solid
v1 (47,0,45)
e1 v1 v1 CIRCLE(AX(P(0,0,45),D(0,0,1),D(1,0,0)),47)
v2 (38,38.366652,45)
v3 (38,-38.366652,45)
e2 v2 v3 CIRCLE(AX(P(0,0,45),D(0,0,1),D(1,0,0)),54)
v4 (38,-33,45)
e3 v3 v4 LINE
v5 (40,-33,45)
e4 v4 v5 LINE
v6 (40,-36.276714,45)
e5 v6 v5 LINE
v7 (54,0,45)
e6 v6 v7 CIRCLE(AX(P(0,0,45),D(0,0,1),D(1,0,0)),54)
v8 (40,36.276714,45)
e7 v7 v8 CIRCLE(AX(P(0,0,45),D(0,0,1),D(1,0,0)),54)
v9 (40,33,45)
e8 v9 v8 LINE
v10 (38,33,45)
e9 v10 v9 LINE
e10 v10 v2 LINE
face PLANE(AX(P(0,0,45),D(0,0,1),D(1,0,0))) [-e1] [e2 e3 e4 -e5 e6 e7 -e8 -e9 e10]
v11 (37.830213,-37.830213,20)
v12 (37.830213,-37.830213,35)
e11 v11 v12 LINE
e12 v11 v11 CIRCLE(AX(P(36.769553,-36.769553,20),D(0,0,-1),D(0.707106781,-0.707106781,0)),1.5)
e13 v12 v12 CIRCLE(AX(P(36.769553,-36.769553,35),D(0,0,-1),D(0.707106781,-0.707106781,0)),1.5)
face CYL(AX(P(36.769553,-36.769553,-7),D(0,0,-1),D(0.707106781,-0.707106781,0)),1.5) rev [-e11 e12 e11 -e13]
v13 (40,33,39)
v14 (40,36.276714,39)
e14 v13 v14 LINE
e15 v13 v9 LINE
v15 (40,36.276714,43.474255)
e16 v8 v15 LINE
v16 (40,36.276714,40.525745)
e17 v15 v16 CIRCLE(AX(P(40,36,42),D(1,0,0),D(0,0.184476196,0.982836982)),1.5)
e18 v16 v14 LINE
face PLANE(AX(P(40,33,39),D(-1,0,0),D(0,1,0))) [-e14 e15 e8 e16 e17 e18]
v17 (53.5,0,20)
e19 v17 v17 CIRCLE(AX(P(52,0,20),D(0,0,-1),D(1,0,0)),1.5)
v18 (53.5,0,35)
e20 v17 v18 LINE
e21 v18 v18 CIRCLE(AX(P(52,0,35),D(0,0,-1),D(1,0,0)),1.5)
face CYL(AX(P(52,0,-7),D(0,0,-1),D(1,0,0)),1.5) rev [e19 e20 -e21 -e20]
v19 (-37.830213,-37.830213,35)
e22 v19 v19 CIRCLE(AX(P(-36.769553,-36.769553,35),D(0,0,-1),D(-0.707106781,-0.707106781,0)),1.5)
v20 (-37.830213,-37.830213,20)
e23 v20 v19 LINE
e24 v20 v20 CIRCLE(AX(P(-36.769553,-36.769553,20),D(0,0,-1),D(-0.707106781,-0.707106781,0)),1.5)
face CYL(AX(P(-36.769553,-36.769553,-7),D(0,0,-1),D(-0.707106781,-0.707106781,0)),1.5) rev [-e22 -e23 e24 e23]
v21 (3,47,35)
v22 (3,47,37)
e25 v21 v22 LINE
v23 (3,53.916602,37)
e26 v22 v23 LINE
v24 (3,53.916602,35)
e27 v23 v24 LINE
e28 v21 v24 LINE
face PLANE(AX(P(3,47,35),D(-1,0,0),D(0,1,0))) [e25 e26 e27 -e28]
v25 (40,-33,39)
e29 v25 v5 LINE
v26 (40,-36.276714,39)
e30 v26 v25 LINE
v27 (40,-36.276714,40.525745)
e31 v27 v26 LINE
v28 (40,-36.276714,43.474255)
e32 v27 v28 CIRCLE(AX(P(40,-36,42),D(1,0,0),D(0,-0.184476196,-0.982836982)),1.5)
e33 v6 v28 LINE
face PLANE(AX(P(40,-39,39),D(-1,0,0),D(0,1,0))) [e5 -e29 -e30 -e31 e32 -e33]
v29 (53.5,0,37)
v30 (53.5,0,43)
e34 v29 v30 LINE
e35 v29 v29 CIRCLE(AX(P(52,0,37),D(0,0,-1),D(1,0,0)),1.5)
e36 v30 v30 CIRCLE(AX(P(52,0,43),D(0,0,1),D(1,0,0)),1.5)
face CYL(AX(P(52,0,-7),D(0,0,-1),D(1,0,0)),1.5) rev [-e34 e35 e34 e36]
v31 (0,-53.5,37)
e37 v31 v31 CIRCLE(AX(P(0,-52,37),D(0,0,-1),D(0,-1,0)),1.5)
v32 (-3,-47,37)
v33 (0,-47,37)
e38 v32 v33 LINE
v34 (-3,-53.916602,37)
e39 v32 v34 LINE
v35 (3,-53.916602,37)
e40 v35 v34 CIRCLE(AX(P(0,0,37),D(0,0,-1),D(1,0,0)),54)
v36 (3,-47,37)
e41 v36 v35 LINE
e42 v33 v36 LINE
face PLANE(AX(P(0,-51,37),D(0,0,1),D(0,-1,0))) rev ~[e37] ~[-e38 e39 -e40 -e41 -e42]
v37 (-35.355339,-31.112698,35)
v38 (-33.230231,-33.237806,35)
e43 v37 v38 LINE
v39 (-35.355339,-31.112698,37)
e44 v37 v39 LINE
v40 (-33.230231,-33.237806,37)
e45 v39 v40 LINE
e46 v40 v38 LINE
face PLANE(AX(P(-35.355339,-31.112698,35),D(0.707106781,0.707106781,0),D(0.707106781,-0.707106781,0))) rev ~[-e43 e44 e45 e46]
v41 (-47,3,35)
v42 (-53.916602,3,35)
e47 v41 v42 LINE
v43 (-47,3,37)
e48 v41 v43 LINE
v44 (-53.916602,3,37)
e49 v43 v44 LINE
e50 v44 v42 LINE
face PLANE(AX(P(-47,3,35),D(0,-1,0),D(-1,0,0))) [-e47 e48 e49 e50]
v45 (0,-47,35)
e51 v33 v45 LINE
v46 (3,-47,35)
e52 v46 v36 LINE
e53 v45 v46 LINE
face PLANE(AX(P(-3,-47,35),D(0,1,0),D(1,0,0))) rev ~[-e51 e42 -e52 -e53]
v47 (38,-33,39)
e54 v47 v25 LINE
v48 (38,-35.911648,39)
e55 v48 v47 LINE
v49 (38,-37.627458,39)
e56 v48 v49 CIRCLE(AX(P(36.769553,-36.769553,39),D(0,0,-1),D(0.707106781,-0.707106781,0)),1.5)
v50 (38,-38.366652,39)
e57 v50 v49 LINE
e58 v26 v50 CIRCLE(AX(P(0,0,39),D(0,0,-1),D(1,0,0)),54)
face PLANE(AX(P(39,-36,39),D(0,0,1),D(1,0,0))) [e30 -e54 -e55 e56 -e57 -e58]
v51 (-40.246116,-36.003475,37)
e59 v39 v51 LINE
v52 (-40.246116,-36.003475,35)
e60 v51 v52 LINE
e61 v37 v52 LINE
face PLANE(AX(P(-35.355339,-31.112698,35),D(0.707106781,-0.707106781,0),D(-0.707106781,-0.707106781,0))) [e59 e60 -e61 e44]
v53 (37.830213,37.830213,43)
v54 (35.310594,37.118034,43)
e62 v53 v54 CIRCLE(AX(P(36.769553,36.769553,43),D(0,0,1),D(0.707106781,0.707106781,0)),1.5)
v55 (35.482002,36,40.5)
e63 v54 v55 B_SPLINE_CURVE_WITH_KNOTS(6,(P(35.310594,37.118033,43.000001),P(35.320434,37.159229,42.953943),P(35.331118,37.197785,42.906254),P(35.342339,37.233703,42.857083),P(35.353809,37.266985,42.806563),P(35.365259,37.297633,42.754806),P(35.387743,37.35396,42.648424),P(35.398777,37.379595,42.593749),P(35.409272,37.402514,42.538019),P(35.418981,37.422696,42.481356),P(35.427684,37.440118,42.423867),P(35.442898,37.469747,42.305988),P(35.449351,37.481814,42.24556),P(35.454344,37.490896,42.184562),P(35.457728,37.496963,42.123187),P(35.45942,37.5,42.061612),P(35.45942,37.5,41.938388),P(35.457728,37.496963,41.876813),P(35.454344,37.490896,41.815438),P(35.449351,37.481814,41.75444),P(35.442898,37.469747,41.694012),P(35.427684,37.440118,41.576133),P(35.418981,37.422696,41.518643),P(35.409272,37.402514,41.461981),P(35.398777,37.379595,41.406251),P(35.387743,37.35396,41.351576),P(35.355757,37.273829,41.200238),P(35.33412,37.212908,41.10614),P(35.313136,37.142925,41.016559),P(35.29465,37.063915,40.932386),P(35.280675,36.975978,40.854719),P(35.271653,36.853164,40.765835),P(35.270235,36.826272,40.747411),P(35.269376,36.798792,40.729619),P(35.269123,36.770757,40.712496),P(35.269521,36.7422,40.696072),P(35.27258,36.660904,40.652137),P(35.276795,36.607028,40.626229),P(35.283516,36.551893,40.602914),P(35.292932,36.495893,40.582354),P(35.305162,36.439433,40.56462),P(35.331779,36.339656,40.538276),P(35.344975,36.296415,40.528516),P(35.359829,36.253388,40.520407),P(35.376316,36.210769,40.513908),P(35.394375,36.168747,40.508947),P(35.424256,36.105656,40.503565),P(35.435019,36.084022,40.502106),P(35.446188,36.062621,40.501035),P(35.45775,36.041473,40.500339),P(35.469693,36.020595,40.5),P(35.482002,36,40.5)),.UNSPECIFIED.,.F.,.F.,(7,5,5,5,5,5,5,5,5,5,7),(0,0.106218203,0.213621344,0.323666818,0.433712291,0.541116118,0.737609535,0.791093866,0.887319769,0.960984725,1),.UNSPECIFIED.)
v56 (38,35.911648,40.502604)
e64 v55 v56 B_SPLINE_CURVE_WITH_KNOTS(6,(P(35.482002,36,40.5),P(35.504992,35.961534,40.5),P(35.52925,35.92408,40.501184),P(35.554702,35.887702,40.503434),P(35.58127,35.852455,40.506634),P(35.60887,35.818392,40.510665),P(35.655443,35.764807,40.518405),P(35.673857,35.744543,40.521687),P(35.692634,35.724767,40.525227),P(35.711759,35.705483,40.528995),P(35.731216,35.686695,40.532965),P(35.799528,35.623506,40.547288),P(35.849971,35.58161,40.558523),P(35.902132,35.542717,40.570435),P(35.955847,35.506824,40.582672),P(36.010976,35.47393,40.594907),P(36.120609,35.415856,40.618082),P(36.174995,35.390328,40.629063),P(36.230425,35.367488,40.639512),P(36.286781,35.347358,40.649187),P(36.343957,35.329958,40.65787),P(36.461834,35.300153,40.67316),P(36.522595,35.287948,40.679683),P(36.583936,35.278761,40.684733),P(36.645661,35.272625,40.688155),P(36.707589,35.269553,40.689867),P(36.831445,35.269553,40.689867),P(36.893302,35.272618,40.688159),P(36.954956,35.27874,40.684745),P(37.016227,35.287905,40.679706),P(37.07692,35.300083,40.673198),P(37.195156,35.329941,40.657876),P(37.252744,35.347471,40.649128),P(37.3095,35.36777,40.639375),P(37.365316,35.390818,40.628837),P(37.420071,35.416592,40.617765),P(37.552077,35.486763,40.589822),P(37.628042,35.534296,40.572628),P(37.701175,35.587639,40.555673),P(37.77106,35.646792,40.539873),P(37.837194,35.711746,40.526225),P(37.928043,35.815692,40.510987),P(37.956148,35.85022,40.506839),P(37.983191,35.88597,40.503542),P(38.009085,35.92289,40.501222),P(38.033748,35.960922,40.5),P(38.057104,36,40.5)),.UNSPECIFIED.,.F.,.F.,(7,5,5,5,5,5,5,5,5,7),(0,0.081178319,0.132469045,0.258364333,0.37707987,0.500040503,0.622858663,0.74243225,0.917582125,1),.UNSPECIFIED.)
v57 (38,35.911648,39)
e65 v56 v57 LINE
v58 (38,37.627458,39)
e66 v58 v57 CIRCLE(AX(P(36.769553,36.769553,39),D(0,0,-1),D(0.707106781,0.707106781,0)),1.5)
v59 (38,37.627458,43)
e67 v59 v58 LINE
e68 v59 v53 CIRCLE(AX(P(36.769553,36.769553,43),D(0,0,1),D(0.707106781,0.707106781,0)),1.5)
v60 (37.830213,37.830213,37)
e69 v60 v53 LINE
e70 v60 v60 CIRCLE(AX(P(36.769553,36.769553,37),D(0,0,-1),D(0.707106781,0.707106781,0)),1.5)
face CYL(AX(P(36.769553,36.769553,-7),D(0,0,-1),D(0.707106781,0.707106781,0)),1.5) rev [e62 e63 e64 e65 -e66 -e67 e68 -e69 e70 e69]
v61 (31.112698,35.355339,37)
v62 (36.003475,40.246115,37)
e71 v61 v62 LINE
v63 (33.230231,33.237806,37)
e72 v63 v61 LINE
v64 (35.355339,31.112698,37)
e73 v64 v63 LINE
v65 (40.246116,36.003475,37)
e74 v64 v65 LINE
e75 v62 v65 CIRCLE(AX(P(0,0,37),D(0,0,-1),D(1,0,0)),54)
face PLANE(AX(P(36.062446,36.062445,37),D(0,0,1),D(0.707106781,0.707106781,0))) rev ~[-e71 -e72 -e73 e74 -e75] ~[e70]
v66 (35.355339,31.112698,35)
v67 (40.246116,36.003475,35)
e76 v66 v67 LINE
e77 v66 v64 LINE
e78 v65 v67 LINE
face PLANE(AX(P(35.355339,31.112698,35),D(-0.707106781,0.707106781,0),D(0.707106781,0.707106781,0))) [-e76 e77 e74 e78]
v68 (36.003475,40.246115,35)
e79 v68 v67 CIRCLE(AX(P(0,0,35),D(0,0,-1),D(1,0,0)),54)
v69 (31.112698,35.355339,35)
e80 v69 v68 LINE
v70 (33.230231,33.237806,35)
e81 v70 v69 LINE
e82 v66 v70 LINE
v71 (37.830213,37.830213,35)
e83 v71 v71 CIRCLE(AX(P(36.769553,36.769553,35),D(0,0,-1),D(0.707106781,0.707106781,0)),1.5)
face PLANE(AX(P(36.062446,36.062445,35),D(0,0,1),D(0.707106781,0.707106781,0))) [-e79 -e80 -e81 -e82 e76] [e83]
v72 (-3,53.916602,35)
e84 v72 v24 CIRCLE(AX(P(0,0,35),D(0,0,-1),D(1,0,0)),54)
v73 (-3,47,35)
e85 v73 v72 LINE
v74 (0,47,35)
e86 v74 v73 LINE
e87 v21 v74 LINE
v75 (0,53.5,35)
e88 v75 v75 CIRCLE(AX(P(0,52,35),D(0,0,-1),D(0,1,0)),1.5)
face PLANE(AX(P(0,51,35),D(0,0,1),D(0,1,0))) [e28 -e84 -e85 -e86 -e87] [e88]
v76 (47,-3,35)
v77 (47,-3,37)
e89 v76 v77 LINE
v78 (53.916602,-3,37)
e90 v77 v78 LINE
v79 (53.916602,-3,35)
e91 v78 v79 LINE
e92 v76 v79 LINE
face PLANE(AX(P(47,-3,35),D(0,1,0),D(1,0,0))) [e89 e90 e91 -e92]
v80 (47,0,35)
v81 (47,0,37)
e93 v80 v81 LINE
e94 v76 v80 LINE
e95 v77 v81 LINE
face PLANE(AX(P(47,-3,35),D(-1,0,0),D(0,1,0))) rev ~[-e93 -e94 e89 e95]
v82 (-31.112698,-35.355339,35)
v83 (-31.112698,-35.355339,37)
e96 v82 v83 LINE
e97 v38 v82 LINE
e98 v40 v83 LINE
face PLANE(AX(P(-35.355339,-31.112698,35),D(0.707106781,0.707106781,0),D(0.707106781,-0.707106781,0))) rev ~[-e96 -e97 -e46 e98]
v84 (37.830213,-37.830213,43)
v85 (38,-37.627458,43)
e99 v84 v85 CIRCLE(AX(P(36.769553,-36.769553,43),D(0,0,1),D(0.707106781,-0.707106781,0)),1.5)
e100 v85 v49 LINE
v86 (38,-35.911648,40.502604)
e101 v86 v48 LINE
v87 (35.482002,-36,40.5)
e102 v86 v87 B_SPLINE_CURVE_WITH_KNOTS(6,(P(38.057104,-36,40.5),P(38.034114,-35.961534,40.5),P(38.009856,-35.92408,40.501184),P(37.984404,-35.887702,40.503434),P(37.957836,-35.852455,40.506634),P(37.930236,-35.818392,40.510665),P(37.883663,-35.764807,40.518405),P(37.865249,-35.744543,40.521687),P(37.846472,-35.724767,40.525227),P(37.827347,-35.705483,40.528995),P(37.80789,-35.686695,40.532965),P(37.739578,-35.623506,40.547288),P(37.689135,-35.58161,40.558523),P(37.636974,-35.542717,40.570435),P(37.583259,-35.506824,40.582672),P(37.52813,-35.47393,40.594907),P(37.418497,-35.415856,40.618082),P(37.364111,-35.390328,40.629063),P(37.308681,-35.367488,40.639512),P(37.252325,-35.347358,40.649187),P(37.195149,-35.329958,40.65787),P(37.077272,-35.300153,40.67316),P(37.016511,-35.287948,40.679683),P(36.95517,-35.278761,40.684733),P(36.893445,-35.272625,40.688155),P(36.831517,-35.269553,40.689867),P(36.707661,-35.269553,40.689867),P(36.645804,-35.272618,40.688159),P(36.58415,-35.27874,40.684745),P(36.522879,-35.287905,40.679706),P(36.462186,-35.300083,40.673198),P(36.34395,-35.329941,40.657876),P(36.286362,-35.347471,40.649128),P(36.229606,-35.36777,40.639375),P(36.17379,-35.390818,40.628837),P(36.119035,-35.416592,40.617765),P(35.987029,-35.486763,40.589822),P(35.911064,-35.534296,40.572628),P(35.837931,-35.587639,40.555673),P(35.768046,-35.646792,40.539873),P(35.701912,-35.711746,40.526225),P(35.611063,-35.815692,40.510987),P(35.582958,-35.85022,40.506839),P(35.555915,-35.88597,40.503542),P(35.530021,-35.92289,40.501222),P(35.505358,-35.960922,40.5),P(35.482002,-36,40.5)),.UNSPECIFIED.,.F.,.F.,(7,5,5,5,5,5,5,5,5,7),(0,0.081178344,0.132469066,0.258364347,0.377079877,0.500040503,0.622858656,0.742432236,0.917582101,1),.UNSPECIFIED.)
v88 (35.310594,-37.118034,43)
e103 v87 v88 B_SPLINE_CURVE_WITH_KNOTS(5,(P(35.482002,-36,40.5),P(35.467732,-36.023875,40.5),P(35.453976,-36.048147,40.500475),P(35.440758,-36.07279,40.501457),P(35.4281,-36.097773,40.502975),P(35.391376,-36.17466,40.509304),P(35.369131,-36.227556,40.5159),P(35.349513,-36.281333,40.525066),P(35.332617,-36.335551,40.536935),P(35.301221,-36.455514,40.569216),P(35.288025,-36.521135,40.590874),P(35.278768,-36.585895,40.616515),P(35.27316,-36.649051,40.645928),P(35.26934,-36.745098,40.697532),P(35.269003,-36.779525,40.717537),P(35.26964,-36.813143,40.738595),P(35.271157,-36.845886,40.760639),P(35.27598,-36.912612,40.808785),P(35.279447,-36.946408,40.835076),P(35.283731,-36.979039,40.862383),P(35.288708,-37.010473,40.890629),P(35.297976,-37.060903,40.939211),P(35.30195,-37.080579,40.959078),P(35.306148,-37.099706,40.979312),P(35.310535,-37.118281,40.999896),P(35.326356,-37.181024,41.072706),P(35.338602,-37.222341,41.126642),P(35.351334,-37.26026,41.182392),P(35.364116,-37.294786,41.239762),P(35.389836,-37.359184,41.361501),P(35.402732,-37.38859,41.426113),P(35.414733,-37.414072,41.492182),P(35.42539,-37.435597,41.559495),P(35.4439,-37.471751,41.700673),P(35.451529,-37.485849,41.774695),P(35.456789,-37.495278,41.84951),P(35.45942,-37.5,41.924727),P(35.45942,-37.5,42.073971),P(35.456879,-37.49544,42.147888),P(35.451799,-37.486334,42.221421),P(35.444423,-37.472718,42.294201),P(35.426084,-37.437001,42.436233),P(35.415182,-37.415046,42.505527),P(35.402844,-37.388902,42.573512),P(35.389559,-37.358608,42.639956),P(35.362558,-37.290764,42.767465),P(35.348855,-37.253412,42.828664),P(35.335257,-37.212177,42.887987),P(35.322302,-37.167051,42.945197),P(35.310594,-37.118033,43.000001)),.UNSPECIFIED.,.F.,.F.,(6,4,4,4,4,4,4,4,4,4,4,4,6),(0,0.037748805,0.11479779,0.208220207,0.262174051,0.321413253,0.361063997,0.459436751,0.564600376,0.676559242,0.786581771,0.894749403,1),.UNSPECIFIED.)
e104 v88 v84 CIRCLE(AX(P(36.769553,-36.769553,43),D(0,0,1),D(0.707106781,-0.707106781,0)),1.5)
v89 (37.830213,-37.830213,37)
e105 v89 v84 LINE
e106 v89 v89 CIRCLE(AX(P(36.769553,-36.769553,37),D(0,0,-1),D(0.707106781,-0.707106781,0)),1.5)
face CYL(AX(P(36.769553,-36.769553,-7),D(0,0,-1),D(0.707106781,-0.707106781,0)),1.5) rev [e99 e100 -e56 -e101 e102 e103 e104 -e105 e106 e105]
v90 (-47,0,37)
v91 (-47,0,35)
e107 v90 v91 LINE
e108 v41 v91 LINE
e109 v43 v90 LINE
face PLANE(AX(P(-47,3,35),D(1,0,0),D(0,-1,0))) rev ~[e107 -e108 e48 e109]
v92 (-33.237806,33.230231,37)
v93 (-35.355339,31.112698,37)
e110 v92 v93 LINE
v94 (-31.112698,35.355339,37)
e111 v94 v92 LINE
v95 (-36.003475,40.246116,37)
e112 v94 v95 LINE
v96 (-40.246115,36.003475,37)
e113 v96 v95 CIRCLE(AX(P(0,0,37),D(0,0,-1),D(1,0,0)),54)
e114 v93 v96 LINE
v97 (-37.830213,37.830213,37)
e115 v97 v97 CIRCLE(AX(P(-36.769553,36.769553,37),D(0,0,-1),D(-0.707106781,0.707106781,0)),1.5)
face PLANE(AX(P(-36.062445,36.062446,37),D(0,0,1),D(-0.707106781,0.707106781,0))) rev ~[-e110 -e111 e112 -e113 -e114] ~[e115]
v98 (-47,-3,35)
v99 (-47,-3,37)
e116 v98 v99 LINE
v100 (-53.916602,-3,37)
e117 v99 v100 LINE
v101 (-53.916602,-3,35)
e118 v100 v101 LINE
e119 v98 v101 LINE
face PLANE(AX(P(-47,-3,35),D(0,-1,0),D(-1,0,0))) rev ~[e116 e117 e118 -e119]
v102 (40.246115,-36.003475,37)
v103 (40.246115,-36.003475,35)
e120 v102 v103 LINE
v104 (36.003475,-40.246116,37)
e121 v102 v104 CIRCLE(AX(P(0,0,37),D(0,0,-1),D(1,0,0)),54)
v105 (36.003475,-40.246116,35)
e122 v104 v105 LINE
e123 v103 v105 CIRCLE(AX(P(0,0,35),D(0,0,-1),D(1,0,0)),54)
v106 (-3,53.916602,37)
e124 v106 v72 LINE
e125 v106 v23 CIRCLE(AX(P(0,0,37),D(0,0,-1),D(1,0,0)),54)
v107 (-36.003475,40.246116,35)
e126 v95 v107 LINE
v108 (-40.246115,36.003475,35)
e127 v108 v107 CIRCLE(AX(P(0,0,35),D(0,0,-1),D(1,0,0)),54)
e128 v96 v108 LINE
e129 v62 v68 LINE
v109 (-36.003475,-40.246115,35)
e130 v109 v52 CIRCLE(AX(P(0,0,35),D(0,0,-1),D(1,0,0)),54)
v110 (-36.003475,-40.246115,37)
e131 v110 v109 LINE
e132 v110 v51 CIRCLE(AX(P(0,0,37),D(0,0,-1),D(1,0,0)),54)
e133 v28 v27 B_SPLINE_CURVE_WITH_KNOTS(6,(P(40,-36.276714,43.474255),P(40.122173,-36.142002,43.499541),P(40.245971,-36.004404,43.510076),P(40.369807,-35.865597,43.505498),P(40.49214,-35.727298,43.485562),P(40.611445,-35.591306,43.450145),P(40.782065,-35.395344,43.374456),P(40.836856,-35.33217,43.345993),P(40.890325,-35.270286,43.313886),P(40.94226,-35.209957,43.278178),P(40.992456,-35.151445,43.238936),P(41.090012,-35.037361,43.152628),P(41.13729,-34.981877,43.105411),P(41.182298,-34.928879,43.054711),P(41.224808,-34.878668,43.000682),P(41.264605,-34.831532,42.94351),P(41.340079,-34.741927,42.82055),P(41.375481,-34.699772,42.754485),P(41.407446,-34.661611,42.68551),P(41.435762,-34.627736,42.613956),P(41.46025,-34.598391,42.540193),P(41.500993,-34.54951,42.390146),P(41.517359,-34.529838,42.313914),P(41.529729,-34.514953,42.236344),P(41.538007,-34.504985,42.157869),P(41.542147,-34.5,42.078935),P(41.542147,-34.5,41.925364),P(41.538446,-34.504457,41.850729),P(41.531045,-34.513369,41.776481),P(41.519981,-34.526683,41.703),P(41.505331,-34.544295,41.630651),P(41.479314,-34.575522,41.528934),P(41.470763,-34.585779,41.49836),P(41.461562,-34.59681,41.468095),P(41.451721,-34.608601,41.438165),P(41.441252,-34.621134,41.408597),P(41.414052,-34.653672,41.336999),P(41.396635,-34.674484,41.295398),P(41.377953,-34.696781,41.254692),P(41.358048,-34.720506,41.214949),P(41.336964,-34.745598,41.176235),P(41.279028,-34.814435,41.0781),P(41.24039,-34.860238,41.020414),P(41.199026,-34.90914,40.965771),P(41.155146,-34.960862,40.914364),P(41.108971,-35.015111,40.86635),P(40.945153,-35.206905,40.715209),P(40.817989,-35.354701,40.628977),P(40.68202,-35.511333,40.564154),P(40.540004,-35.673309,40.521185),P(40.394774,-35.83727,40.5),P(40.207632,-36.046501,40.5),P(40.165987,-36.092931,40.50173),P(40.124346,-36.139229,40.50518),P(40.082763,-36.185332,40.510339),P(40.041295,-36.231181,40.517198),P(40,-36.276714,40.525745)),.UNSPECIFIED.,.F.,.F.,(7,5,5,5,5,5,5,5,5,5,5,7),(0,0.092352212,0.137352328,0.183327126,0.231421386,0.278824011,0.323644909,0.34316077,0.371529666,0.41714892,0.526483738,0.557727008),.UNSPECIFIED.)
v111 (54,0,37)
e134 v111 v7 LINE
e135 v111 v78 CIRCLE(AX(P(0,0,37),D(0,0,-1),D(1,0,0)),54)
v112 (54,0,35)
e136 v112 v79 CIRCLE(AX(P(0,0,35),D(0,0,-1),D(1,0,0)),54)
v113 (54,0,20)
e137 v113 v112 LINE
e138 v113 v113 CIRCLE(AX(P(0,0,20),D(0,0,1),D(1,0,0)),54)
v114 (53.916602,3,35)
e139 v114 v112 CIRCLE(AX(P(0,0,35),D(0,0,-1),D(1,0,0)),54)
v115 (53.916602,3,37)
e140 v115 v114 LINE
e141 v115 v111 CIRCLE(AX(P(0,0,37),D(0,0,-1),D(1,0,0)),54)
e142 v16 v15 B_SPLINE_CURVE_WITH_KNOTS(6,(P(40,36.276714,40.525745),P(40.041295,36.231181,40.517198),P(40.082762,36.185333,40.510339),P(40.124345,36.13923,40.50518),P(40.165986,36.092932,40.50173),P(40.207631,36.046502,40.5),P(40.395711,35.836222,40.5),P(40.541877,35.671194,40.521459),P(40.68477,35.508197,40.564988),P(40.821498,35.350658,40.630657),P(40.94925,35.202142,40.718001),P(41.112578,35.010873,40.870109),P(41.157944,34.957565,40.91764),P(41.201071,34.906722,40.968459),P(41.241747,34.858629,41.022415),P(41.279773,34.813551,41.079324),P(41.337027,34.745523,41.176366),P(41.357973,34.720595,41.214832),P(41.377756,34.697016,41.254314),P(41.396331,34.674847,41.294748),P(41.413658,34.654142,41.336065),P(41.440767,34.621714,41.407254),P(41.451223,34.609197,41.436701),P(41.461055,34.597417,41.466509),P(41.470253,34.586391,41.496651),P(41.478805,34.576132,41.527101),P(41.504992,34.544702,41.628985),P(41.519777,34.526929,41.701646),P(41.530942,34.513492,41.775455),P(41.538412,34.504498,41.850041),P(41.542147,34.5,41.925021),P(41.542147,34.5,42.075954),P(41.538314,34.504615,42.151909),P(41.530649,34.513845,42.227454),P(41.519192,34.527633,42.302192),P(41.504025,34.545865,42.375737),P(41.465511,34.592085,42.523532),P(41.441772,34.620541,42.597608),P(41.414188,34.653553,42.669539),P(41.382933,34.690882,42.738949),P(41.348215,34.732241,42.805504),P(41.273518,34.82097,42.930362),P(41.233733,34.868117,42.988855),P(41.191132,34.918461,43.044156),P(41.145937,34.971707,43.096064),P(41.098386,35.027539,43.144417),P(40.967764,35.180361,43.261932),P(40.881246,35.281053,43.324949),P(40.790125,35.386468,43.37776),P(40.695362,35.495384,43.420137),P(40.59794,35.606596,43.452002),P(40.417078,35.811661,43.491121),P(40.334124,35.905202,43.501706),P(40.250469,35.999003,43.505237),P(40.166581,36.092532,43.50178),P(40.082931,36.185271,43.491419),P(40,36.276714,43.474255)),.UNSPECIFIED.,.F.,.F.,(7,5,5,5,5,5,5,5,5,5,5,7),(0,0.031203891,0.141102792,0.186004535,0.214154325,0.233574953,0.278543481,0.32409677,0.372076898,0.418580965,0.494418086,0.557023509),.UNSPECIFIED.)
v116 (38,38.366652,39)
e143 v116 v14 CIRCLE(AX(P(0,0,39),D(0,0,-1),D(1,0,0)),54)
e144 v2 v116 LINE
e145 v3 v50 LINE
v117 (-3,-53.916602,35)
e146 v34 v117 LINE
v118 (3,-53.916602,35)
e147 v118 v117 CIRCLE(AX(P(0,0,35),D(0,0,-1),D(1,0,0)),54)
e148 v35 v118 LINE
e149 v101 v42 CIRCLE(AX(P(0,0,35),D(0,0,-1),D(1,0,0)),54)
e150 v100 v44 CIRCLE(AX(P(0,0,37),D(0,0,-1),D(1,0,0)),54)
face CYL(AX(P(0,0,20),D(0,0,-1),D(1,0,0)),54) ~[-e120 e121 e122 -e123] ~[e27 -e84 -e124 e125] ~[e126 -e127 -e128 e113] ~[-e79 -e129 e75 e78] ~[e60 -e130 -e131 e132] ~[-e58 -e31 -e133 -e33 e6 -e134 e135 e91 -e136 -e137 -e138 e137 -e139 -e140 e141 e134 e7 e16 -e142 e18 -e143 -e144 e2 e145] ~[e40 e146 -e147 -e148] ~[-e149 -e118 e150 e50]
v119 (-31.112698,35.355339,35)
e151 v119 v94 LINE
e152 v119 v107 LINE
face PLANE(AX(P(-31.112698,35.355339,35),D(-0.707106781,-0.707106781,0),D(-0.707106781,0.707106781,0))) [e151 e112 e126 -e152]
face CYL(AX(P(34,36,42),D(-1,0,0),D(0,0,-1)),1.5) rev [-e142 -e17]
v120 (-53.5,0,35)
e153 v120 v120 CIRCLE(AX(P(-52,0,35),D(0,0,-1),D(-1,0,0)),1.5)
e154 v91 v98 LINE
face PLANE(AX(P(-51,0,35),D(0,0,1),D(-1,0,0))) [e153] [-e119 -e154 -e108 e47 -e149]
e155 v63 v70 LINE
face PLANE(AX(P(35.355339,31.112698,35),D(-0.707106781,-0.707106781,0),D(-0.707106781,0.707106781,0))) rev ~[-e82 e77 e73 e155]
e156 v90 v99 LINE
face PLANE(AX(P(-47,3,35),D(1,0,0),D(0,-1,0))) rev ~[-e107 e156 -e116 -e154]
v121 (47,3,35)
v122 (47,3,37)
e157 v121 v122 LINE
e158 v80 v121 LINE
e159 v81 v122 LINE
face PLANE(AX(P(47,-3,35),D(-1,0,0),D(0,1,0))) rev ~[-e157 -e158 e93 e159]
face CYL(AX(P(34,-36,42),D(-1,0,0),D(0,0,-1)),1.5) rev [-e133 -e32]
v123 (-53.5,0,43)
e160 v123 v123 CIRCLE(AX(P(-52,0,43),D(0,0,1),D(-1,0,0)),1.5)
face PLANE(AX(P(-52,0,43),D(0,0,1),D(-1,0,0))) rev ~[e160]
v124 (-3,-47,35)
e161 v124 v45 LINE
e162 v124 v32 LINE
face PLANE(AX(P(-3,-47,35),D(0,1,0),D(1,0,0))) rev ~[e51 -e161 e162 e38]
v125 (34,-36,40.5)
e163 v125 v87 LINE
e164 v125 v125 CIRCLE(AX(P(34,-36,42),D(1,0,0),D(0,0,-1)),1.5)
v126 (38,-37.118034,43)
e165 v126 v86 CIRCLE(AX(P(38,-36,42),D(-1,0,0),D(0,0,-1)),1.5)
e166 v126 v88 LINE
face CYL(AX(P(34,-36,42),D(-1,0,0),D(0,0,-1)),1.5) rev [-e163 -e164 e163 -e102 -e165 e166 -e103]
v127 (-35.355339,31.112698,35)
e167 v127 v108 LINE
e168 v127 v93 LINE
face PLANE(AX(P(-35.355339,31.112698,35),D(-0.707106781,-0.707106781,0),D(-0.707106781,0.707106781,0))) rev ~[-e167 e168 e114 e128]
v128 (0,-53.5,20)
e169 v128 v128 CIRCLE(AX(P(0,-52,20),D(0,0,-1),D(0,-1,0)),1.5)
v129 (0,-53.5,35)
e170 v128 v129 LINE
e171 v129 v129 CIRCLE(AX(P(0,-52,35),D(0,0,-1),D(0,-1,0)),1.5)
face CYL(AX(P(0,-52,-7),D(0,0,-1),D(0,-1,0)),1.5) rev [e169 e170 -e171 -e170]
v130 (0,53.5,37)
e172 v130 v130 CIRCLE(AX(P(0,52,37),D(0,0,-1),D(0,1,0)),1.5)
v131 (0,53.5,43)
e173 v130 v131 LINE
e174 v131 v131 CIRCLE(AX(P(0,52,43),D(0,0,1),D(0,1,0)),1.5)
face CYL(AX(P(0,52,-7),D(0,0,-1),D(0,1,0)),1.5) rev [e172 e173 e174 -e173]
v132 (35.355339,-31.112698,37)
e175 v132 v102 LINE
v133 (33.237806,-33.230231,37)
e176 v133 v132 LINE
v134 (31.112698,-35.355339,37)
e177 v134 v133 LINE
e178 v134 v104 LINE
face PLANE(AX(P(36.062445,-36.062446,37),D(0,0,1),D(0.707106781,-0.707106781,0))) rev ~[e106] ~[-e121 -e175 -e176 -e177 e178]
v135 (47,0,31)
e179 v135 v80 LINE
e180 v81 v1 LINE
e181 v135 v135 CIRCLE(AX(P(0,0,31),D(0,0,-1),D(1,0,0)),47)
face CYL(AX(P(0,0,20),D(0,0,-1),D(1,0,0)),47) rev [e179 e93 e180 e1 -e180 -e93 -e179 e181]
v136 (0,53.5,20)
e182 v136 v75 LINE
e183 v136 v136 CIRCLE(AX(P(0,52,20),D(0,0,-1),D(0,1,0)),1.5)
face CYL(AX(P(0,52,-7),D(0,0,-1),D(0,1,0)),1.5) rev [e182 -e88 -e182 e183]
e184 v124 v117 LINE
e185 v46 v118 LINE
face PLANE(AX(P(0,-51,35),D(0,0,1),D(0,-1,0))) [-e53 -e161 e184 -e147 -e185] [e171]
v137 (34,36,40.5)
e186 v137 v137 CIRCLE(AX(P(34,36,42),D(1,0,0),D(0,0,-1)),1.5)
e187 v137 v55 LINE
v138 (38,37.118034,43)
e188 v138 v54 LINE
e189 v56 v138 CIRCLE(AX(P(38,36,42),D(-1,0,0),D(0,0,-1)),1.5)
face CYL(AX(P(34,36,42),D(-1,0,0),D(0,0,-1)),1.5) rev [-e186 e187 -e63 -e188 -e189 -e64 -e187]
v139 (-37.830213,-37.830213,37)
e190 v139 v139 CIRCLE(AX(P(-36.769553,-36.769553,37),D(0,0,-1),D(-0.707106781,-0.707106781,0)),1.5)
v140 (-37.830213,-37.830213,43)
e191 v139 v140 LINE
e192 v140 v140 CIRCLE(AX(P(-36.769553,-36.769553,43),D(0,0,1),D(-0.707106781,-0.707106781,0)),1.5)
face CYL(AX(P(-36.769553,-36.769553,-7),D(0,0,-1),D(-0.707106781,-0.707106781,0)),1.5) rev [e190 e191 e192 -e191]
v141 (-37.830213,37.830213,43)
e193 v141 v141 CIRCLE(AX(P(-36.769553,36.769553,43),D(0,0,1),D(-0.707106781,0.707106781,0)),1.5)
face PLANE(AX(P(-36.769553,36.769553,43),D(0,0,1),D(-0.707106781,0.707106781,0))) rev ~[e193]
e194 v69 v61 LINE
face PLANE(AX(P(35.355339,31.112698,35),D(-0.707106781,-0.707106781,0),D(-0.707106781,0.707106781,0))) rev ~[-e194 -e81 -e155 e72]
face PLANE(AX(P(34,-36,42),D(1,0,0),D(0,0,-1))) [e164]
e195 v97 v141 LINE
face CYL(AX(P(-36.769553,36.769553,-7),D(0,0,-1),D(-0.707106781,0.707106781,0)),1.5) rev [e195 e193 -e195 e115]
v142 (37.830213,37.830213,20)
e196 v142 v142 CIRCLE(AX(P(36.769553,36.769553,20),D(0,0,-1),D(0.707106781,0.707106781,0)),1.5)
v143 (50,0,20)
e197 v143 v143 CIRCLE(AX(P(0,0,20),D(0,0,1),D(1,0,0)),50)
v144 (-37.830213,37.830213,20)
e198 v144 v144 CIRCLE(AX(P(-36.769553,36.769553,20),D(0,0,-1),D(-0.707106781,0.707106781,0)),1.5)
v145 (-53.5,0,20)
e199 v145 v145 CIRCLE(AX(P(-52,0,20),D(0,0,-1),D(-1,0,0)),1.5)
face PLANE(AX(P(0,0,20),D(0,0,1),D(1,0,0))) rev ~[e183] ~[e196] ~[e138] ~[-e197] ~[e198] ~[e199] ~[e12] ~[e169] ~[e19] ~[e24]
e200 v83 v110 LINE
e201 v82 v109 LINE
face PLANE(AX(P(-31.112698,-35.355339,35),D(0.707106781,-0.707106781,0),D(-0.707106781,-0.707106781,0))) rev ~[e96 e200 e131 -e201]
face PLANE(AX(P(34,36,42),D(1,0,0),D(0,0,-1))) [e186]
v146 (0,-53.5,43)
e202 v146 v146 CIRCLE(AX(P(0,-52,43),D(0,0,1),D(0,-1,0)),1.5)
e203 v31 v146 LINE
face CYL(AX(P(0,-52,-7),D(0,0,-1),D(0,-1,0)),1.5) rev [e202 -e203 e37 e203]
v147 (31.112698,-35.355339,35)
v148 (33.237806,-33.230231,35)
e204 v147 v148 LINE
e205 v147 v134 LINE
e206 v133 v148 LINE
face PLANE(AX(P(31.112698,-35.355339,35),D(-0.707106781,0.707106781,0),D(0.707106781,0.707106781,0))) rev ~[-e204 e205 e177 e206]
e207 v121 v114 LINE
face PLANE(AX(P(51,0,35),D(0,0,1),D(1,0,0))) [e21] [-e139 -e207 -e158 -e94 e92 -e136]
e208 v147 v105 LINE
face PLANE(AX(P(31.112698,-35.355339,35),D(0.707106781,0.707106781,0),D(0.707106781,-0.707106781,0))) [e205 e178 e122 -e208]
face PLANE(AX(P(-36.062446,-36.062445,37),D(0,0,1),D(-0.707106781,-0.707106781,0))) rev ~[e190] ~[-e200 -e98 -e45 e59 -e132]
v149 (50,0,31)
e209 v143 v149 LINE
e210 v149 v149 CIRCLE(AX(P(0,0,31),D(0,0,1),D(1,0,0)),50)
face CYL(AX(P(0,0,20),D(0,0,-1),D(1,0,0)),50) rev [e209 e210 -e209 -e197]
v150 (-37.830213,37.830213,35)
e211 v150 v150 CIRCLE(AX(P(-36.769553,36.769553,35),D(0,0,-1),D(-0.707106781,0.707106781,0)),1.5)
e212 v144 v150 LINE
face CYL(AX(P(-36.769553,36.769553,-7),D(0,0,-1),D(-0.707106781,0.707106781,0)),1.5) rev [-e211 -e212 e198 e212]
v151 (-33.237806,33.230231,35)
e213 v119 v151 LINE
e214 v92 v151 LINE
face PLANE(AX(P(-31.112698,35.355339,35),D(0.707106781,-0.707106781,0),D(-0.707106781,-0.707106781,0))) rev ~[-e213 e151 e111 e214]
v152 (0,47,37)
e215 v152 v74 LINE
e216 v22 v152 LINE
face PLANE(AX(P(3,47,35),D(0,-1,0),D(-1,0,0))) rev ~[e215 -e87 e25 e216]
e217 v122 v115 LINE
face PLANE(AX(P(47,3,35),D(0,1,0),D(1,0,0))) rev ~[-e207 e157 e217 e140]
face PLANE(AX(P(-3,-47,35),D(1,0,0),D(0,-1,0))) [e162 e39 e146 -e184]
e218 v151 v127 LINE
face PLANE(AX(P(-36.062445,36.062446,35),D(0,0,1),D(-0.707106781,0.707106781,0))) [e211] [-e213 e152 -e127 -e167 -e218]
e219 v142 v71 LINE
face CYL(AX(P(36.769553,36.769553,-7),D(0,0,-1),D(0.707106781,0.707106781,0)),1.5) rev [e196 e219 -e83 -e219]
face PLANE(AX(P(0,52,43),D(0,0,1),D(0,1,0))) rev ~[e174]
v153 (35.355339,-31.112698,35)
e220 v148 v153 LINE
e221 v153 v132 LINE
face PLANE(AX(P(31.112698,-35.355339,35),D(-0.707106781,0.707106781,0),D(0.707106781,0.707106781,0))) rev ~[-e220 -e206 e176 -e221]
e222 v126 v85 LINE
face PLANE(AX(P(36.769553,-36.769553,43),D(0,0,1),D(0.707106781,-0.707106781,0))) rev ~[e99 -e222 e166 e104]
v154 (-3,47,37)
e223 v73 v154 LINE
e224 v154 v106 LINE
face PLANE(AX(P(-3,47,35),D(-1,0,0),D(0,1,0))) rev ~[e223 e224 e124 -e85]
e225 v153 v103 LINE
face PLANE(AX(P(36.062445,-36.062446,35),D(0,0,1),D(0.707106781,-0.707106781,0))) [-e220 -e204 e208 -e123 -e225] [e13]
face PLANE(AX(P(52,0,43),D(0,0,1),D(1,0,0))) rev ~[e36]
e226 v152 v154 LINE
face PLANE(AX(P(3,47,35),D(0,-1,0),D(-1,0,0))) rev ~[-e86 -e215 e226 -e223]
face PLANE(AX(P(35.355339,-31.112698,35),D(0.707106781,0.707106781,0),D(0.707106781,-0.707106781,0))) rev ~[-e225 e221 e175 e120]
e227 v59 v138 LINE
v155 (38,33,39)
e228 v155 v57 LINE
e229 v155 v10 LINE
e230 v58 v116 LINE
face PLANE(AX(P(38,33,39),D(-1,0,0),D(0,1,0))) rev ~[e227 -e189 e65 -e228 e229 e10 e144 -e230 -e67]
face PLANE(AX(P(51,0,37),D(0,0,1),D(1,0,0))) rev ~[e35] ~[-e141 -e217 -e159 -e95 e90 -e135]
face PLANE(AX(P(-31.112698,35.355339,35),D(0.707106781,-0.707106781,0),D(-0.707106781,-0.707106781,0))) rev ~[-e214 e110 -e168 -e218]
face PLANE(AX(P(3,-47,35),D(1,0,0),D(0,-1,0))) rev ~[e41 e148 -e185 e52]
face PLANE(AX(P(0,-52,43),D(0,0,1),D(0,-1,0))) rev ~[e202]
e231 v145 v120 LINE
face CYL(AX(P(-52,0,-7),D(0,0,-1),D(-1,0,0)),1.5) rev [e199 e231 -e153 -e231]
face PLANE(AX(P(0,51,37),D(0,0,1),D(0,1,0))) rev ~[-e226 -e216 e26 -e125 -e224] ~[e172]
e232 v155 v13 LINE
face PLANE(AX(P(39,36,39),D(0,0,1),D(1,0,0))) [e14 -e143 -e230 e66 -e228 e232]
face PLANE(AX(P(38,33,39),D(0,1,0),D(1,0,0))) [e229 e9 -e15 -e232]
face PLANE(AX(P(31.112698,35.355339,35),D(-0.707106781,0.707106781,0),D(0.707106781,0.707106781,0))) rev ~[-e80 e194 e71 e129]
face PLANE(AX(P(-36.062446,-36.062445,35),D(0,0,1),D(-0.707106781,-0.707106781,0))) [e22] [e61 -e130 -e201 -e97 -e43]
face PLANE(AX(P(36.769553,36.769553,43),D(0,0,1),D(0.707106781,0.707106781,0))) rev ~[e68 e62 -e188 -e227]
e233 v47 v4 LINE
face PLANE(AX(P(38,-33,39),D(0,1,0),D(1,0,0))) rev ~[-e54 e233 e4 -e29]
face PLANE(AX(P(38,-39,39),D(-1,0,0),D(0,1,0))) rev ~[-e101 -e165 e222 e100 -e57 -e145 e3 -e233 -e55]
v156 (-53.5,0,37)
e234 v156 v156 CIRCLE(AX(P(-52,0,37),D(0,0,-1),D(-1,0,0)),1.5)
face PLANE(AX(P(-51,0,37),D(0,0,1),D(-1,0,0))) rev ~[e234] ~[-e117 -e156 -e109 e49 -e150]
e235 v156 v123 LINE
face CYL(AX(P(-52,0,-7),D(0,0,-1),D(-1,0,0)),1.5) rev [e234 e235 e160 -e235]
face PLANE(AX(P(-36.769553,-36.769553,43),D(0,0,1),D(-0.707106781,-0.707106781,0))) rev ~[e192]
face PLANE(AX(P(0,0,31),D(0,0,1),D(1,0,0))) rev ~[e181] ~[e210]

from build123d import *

# Parameters (mm, degrees)
CYLINDER1189_R               = 1.5
CYLINDER1189_DEPTH           = 100
CYLINDER1190_R               = 1.5
CYLINDER1190_DEPTH           = 100
CYLINDER1187_R               = 1.5
CYLINDER1187_DEPTH           = 100
CYLINDER1188_R               = 1.5
CYLINDER1188_DEPTH           = 100
BOX491_W                     = 2
BOX491_H                     = 6
BOX491_DEPTH                 = 6
BOX492_W                     = 2
BOX492_H                     = 6
BOX492_DEPTH                 = 6
BOX493_W                     = 2
BOX493_H                     = 6
BOX493_DEPTH                 = 6
BOX490_W                     = 2
BOX490_H                     = 6
BOX490_DEPTH                 = 6
BOX460_W                     = 8
BOX460_H                     = 6
BOX460_DEPTH                 = 2
BOX460_PLACEMENT_ANGLE       = 45
BOX461_W                     = 8
BOX461_H                     = 6
BOX461_DEPTH                 = 2
BOX462_W                     = 8
BOX462_H                     = 6
BOX462_DEPTH                 = 2
BOX462_PLACEMENT_ANGLE       = 135
BOX463_W                     = 8
BOX463_H                     = 6
BOX463_DEPTH                 = 2
BOX464_W                     = 8
BOX464_H                     = 6
BOX464_DEPTH                 = 2
BOX464_PLACEMENT_ANGLE       = 225
BOX465_W                     = 8
BOX465_H                     = 6
BOX465_DEPTH                 = 2
BOX466_W                     = 8
BOX466_H                     = 6
BOX466_DEPTH                 = 2
BOX466_PLACEMENT_ANGLE       = 45
BOX459_W                     = 8
BOX459_H                     = 6
BOX459_DEPTH                 = 2
CYLINDER1161_R               = 1.5
CYLINDER1161_DEPTH           = 50
CYLINDER1161_PLACEMENT_ANGLE = 45
CYLINDER1162_R               = 1.5
CYLINDER1162_DEPTH           = 50
CYLINDER1163_R               = 1.5
CYLINDER1163_DEPTH           = 50
CYLINDER1163_PLACEMENT_ANGLE = 135
CYLINDER1164_R               = 1.5
CYLINDER1164_DEPTH           = 50
CYLINDER1165_R               = 1.5
CYLINDER1165_DEPTH           = 50
CYLINDER1165_PLACEMENT_ANGLE = 225
CYLINDER1166_R               = 1.5
CYLINDER1166_DEPTH           = 50
CYLINDER1167_R               = 1.5
CYLINDER1167_DEPTH           = 50
CYLINDER1167_PLACEMENT_ANGLE = 45
CYLINDER1160_R               = 1.5
CYLINDER1160_DEPTH           = 50
TUBE109_R                    = 50
TUBE109_R_2                  = 40
TUBE109_DEPTH                = 11
TUBE107_R                    = 54
TUBE107_R_2                  = 47
TUBE107_DEPTH                = 25


with BuildPart() as v_lec1189:
    # Cylinder1189 → Cylinder1189 (new body)
    with BuildSketch(Plane(origin=(24, -51, 27), x_dir=(0, 0, -1), z_dir=(1, 0, 0))):
        Circle(CYLINDER1189_R)
    extrude(amount=CYLINDER1189_DEPTH)


with BuildPart() as v_lec1190:
    # Cylinder1190 → Cylinder1190 (new body)
    with BuildSketch(Plane(origin=(34, 36, 42), x_dir=(0, 0, -1), z_dir=(1, 0, 0))):
        Circle(CYLINDER1190_R)
    extrude(amount=CYLINDER1190_DEPTH)


with BuildPart() as v_lec1187:
    # Cylinder1187 → Cylinder1187 (new body)
    with BuildSketch(Plane(origin=(34, -36, 42), x_dir=(0, 0, -1), z_dir=(1, 0, 0))):
        Circle(CYLINDER1187_R)
    extrude(amount=CYLINDER1187_DEPTH)


with BuildPart() as compound890:
    # Cylinder1188 → Cylinder1188 (new body)
    with BuildSketch(Plane(origin=(24, 51, 27), x_dir=(0, 0, -1), z_dir=(1, 0, 0))):
        Circle(CYLINDER1188_R)
    extrude(amount=CYLINDER1188_DEPTH)

    # Compound890: union Válec1189, Válec1190, Válec1187
    add(v_lec1189.part)
    add(v_lec1190.part)
    add(v_lec1187.part)


with BuildPart() as krychle491:
    # Box491 → Box491 (new body)
    with BuildSketch(Plane(origin=(32, -54, 24), x_dir=(1, 0, 0), z_dir=(0, 0, 1))):
        with Locations((1, 3)):
            Rectangle(BOX491_W, BOX491_H)
    extrude(amount=BOX491_DEPTH)


with BuildPart() as krychle492:
    # Box492 → Box492 (new body)
    with BuildSketch(Plane(origin=(38, 33, 39), x_dir=(1, 0, 0), z_dir=(0, 0, 1))):
        with Locations((1, 3)):
            Rectangle(BOX492_W, BOX492_H)
    extrude(amount=BOX492_DEPTH)


with BuildPart() as krychle493:
    # Box493 → Box493 (new body)
    with BuildSketch(Plane(origin=(38, -39, 39), x_dir=(1, 0, 0), z_dir=(0, 0, 1))):
        with Locations((1, 3)):
            Rectangle(BOX493_W, BOX493_H)
    extrude(amount=BOX493_DEPTH)


with BuildPart() as compound888:
    # Box490 → Box490 (new body)
    with BuildSketch(Plane(origin=(32, 48, 24), x_dir=(1, 0, 0), z_dir=(0, 0, 1))):
        with Locations((1, 3)):
            Rectangle(BOX490_W, BOX490_H)
    extrude(amount=BOX490_DEPTH)

    # Compound888: union Krychle491, Krychle492, Krychle493
    add(krychle491.part)
    add(krychle492.part)
    add(krychle493.part)


with BuildPart() as krychle460:
    # Box460 → Box460 (new body)
    with BuildSketch(Plane.XY):
        with Locations((4, 3)):
            Rectangle(BOX460_W, BOX460_H)
    extrude(amount=BOX460_DEPTH)


with BuildPart() as krychle460_1:
    # Box460 placement: moved
    add(krychle460.part.moved(Location((35.355339, 31.112698, 34))).rotate(Axis((35.355339, 31.112698, 34), (0, 0, 1)), BOX460_PLACEMENT_ANGLE))


with BuildPart() as krychle461:
    # Box461 → Box461 (new body)
    with BuildSketch(Plane(origin=(3, 47, 34), x_dir=(0, 1, 0), z_dir=(0, 0, 1))):
        with Locations((4, 3)):
            Rectangle(BOX461_W, BOX461_H)
    extrude(amount=BOX461_DEPTH)


with BuildPart() as krychle462:
    # Box462 → Box462 (new body)
    with BuildSketch(Plane.XY):
        with Locations((4, 3)):
            Rectangle(BOX462_W, BOX462_H)
    extrude(amount=BOX462_DEPTH)


with BuildPart() as krychle462_1:
    # Box462 placement: moved
    add(krychle462.part.moved(Location((-31.112698, 35.355339, 34))).rotate(Axis((-31.112698, 35.355339, 34), (0, 0, 1)), BOX462_PLACEMENT_ANGLE))


with BuildPart() as krychle463:
    # Box463 → Box463 (new body)
    with BuildSketch(Plane(origin=(-47, 3, 34), x_dir=(-1, 0, 0), z_dir=(0, 0, 1))):
        with Locations((4, 3)):
            Rectangle(BOX463_W, BOX463_H)
    extrude(amount=BOX463_DEPTH)


with BuildPart() as krychle464:
    # Box464 → Box464 (new body)
    with BuildSketch(Plane.XY):
        with Locations((4, 3)):
            Rectangle(BOX464_W, BOX464_H)
    extrude(amount=BOX464_DEPTH)


with BuildPart() as krychle464_1:
    # Box464 placement: moved
    add(krychle464.part.moved(Location((-35.355339, -31.112698, 34))).rotate(Axis((-35.355339, -31.112698, 34), (0, 0, 1)), BOX464_PLACEMENT_ANGLE))


with BuildPart() as krychle465:
    # Box465 → Box465 (new body)
    with BuildSketch(Plane(origin=(-3, -47, 34), x_dir=(0, -1, 0), z_dir=(0, 0, 1))):
        with Locations((4, 3)):
            Rectangle(BOX465_W, BOX465_H)
    extrude(amount=BOX465_DEPTH)


with BuildPart() as krychle466:
    # Box466 → Box466 (new body)
    with BuildSketch(Plane.XY):
        with Locations((4, 3)):
            Rectangle(BOX466_W, BOX466_H)
    extrude(amount=BOX466_DEPTH)


with BuildPart() as krychle466_1:
    # Box466 placement: moved
    add(krychle466.part.moved(Location((31.112698, -35.355339, 34))).rotate(Axis((31.112698, -35.355339, 34), (0, 0, -1)), BOX466_PLACEMENT_ANGLE))


with BuildPart() as compound881:
    # Box459 → Box459 (new body)
    with BuildSketch(Plane(origin=(47, -3, 34), x_dir=(1, 0, 0), z_dir=(0, 0, 1))):
        with Locations((4, 3)):
            Rectangle(BOX459_W, BOX459_H)
    extrude(amount=BOX459_DEPTH)

    # Compound881: union Krychle460, Krychle461, Krychle462, Krychle463, Krychle464, Krychle465, Krychle466
    add(krychle460_1.part)
    add(krychle461.part)
    add(krychle462_1.part)
    add(krychle463.part)
    add(krychle464_1.part)
    add(krychle465.part)
    add(krychle466_1.part)


with BuildPart() as compound881_1:
    # Compound881 placement: moved
    add(compound881.part.moved(Location((0, 0, 1))))


with BuildPart() as v_lec1161:
    # Cylinder1161 → Cylinder1161 (new body)
    with BuildSketch(Plane.XY):
        Circle(CYLINDER1161_R)
    extrude(amount=CYLINDER1161_DEPTH)


with BuildPart() as v_lec1161_1:
    # Cylinder1161 placement: moved
    add(v_lec1161.part.moved(Location((36.769553, 36.769553, 0))).rotate(Axis((36.769553, 36.769553, 0), (0, 0, 1)), CYLINDER1161_PLACEMENT_ANGLE))


with BuildPart() as v_lec1162:
    # Cylinder1162 → Cylinder1162 (new body)
    with BuildSketch(Plane(origin=(0, 52, 0), x_dir=(0, 1, 0), z_dir=(0, 0, 1))):
        Circle(CYLINDER1162_R)
    extrude(amount=CYLINDER1162_DEPTH)


with BuildPart() as v_lec1163:
    # Cylinder1163 → Cylinder1163 (new body)
    with BuildSketch(Plane.XY):
        Circle(CYLINDER1163_R)
    extrude(amount=CYLINDER1163_DEPTH)


with BuildPart() as v_lec1163_1:
    # Cylinder1163 placement: moved
    add(v_lec1163.part.moved(Location((-36.769553, 36.769553, 0))).rotate(Axis((-36.769553, 36.769553, 0), (0, 0, 1)), CYLINDER1163_PLACEMENT_ANGLE))


with BuildPart() as v_lec1164:
    # Cylinder1164 → Cylinder1164 (new body)
    with BuildSketch(Plane(origin=(-52, 0, 0), x_dir=(-1, 0, 0), z_dir=(0, 0, 1))):
        Circle(CYLINDER1164_R)
    extrude(amount=CYLINDER1164_DEPTH)


with BuildPart() as v_lec1165:
    # Cylinder1165 → Cylinder1165 (new body)
    with BuildSketch(Plane.XY):
        Circle(CYLINDER1165_R)
    extrude(amount=CYLINDER1165_DEPTH)


with BuildPart() as v_lec1165_1:
    # Cylinder1165 placement: moved
    add(v_lec1165.part.moved(Location((-36.769553, -36.769553, 0))).rotate(Axis((-36.769553, -36.769553, 0), (0, 0, 1)), CYLINDER1165_PLACEMENT_ANGLE))


with BuildPart() as v_lec1166:
    # Cylinder1166 → Cylinder1166 (new body)
    with BuildSketch(Plane(origin=(0, -52, 0), x_dir=(0, -1, 0), z_dir=(0, 0, 1))):
        Circle(CYLINDER1166_R)
    extrude(amount=CYLINDER1166_DEPTH)


with BuildPart() as v_lec1167:
    # Cylinder1167 → Cylinder1167 (new body)
    with BuildSketch(Plane.XY):
        Circle(CYLINDER1167_R)
    extrude(amount=CYLINDER1167_DEPTH)


with BuildPart() as v_lec1167_1:
    # Cylinder1167 placement: moved
    add(v_lec1167.part.moved(Location((36.769553, -36.769553, 0))).rotate(Axis((36.769553, -36.769553, 0), (0, 0, -1)), CYLINDER1167_PLACEMENT_ANGLE))


with BuildPart() as compound879:
    # Cylinder1160 → Cylinder1160 (new body)
    with BuildSketch(Plane(origin=(52, 0, 0), x_dir=(1, 0, 0), z_dir=(0, 0, 1))):
        Circle(CYLINDER1160_R)
    extrude(amount=CYLINDER1160_DEPTH)

    # Compound879: union Válec1161, Válec1162, Válec1163, Válec1164, Válec1165, Válec1166, Válec1167
    add(v_lec1161_1.part)
    add(v_lec1162.part)
    add(v_lec1163_1.part)
    add(v_lec1164.part)
    add(v_lec1165_1.part)
    add(v_lec1166.part)
    add(v_lec1167_1.part)


with BuildPart() as compound879_1:
    # Compound879 placement: moved
    add(compound879.part.moved(Location((0, 0, -7))))


with BuildPart() as tube109:
    # Tube109 → Tube109 (new body)
    with BuildSketch(Plane.XY.offset(20)):
        Circle(TUBE109_R)
        Circle(TUBE109_R_2, mode=Mode.SUBTRACT)
    extrude(amount=TUBE109_DEPTH)


with BuildPart() as cut444:
    # Tube107 → Tube107 (new body)
    with BuildSketch(Plane.XY.offset(20)):
        Circle(TUBE107_R)
        Circle(TUBE107_R_2, mode=Mode.SUBTRACT)
    extrude(amount=TUBE107_DEPTH)

    # Cut429: cut Tube109
    add(tube109.part, mode=Mode.SUBTRACT)

    # Cut431: cut Compound879
    add(compound879_1.part, mode=Mode.SUBTRACT)

    # Cut432: cut Compound881
    add(compound881_1.part, mode=Mode.SUBTRACT)

    # Cut442: cut Compound888
    add(compound888.part, mode=Mode.SUBTRACT)

    # Cut444: cut Compound890
    add(compound890.part, mode=Mode.SUBTRACT)


solid = cut444.part
